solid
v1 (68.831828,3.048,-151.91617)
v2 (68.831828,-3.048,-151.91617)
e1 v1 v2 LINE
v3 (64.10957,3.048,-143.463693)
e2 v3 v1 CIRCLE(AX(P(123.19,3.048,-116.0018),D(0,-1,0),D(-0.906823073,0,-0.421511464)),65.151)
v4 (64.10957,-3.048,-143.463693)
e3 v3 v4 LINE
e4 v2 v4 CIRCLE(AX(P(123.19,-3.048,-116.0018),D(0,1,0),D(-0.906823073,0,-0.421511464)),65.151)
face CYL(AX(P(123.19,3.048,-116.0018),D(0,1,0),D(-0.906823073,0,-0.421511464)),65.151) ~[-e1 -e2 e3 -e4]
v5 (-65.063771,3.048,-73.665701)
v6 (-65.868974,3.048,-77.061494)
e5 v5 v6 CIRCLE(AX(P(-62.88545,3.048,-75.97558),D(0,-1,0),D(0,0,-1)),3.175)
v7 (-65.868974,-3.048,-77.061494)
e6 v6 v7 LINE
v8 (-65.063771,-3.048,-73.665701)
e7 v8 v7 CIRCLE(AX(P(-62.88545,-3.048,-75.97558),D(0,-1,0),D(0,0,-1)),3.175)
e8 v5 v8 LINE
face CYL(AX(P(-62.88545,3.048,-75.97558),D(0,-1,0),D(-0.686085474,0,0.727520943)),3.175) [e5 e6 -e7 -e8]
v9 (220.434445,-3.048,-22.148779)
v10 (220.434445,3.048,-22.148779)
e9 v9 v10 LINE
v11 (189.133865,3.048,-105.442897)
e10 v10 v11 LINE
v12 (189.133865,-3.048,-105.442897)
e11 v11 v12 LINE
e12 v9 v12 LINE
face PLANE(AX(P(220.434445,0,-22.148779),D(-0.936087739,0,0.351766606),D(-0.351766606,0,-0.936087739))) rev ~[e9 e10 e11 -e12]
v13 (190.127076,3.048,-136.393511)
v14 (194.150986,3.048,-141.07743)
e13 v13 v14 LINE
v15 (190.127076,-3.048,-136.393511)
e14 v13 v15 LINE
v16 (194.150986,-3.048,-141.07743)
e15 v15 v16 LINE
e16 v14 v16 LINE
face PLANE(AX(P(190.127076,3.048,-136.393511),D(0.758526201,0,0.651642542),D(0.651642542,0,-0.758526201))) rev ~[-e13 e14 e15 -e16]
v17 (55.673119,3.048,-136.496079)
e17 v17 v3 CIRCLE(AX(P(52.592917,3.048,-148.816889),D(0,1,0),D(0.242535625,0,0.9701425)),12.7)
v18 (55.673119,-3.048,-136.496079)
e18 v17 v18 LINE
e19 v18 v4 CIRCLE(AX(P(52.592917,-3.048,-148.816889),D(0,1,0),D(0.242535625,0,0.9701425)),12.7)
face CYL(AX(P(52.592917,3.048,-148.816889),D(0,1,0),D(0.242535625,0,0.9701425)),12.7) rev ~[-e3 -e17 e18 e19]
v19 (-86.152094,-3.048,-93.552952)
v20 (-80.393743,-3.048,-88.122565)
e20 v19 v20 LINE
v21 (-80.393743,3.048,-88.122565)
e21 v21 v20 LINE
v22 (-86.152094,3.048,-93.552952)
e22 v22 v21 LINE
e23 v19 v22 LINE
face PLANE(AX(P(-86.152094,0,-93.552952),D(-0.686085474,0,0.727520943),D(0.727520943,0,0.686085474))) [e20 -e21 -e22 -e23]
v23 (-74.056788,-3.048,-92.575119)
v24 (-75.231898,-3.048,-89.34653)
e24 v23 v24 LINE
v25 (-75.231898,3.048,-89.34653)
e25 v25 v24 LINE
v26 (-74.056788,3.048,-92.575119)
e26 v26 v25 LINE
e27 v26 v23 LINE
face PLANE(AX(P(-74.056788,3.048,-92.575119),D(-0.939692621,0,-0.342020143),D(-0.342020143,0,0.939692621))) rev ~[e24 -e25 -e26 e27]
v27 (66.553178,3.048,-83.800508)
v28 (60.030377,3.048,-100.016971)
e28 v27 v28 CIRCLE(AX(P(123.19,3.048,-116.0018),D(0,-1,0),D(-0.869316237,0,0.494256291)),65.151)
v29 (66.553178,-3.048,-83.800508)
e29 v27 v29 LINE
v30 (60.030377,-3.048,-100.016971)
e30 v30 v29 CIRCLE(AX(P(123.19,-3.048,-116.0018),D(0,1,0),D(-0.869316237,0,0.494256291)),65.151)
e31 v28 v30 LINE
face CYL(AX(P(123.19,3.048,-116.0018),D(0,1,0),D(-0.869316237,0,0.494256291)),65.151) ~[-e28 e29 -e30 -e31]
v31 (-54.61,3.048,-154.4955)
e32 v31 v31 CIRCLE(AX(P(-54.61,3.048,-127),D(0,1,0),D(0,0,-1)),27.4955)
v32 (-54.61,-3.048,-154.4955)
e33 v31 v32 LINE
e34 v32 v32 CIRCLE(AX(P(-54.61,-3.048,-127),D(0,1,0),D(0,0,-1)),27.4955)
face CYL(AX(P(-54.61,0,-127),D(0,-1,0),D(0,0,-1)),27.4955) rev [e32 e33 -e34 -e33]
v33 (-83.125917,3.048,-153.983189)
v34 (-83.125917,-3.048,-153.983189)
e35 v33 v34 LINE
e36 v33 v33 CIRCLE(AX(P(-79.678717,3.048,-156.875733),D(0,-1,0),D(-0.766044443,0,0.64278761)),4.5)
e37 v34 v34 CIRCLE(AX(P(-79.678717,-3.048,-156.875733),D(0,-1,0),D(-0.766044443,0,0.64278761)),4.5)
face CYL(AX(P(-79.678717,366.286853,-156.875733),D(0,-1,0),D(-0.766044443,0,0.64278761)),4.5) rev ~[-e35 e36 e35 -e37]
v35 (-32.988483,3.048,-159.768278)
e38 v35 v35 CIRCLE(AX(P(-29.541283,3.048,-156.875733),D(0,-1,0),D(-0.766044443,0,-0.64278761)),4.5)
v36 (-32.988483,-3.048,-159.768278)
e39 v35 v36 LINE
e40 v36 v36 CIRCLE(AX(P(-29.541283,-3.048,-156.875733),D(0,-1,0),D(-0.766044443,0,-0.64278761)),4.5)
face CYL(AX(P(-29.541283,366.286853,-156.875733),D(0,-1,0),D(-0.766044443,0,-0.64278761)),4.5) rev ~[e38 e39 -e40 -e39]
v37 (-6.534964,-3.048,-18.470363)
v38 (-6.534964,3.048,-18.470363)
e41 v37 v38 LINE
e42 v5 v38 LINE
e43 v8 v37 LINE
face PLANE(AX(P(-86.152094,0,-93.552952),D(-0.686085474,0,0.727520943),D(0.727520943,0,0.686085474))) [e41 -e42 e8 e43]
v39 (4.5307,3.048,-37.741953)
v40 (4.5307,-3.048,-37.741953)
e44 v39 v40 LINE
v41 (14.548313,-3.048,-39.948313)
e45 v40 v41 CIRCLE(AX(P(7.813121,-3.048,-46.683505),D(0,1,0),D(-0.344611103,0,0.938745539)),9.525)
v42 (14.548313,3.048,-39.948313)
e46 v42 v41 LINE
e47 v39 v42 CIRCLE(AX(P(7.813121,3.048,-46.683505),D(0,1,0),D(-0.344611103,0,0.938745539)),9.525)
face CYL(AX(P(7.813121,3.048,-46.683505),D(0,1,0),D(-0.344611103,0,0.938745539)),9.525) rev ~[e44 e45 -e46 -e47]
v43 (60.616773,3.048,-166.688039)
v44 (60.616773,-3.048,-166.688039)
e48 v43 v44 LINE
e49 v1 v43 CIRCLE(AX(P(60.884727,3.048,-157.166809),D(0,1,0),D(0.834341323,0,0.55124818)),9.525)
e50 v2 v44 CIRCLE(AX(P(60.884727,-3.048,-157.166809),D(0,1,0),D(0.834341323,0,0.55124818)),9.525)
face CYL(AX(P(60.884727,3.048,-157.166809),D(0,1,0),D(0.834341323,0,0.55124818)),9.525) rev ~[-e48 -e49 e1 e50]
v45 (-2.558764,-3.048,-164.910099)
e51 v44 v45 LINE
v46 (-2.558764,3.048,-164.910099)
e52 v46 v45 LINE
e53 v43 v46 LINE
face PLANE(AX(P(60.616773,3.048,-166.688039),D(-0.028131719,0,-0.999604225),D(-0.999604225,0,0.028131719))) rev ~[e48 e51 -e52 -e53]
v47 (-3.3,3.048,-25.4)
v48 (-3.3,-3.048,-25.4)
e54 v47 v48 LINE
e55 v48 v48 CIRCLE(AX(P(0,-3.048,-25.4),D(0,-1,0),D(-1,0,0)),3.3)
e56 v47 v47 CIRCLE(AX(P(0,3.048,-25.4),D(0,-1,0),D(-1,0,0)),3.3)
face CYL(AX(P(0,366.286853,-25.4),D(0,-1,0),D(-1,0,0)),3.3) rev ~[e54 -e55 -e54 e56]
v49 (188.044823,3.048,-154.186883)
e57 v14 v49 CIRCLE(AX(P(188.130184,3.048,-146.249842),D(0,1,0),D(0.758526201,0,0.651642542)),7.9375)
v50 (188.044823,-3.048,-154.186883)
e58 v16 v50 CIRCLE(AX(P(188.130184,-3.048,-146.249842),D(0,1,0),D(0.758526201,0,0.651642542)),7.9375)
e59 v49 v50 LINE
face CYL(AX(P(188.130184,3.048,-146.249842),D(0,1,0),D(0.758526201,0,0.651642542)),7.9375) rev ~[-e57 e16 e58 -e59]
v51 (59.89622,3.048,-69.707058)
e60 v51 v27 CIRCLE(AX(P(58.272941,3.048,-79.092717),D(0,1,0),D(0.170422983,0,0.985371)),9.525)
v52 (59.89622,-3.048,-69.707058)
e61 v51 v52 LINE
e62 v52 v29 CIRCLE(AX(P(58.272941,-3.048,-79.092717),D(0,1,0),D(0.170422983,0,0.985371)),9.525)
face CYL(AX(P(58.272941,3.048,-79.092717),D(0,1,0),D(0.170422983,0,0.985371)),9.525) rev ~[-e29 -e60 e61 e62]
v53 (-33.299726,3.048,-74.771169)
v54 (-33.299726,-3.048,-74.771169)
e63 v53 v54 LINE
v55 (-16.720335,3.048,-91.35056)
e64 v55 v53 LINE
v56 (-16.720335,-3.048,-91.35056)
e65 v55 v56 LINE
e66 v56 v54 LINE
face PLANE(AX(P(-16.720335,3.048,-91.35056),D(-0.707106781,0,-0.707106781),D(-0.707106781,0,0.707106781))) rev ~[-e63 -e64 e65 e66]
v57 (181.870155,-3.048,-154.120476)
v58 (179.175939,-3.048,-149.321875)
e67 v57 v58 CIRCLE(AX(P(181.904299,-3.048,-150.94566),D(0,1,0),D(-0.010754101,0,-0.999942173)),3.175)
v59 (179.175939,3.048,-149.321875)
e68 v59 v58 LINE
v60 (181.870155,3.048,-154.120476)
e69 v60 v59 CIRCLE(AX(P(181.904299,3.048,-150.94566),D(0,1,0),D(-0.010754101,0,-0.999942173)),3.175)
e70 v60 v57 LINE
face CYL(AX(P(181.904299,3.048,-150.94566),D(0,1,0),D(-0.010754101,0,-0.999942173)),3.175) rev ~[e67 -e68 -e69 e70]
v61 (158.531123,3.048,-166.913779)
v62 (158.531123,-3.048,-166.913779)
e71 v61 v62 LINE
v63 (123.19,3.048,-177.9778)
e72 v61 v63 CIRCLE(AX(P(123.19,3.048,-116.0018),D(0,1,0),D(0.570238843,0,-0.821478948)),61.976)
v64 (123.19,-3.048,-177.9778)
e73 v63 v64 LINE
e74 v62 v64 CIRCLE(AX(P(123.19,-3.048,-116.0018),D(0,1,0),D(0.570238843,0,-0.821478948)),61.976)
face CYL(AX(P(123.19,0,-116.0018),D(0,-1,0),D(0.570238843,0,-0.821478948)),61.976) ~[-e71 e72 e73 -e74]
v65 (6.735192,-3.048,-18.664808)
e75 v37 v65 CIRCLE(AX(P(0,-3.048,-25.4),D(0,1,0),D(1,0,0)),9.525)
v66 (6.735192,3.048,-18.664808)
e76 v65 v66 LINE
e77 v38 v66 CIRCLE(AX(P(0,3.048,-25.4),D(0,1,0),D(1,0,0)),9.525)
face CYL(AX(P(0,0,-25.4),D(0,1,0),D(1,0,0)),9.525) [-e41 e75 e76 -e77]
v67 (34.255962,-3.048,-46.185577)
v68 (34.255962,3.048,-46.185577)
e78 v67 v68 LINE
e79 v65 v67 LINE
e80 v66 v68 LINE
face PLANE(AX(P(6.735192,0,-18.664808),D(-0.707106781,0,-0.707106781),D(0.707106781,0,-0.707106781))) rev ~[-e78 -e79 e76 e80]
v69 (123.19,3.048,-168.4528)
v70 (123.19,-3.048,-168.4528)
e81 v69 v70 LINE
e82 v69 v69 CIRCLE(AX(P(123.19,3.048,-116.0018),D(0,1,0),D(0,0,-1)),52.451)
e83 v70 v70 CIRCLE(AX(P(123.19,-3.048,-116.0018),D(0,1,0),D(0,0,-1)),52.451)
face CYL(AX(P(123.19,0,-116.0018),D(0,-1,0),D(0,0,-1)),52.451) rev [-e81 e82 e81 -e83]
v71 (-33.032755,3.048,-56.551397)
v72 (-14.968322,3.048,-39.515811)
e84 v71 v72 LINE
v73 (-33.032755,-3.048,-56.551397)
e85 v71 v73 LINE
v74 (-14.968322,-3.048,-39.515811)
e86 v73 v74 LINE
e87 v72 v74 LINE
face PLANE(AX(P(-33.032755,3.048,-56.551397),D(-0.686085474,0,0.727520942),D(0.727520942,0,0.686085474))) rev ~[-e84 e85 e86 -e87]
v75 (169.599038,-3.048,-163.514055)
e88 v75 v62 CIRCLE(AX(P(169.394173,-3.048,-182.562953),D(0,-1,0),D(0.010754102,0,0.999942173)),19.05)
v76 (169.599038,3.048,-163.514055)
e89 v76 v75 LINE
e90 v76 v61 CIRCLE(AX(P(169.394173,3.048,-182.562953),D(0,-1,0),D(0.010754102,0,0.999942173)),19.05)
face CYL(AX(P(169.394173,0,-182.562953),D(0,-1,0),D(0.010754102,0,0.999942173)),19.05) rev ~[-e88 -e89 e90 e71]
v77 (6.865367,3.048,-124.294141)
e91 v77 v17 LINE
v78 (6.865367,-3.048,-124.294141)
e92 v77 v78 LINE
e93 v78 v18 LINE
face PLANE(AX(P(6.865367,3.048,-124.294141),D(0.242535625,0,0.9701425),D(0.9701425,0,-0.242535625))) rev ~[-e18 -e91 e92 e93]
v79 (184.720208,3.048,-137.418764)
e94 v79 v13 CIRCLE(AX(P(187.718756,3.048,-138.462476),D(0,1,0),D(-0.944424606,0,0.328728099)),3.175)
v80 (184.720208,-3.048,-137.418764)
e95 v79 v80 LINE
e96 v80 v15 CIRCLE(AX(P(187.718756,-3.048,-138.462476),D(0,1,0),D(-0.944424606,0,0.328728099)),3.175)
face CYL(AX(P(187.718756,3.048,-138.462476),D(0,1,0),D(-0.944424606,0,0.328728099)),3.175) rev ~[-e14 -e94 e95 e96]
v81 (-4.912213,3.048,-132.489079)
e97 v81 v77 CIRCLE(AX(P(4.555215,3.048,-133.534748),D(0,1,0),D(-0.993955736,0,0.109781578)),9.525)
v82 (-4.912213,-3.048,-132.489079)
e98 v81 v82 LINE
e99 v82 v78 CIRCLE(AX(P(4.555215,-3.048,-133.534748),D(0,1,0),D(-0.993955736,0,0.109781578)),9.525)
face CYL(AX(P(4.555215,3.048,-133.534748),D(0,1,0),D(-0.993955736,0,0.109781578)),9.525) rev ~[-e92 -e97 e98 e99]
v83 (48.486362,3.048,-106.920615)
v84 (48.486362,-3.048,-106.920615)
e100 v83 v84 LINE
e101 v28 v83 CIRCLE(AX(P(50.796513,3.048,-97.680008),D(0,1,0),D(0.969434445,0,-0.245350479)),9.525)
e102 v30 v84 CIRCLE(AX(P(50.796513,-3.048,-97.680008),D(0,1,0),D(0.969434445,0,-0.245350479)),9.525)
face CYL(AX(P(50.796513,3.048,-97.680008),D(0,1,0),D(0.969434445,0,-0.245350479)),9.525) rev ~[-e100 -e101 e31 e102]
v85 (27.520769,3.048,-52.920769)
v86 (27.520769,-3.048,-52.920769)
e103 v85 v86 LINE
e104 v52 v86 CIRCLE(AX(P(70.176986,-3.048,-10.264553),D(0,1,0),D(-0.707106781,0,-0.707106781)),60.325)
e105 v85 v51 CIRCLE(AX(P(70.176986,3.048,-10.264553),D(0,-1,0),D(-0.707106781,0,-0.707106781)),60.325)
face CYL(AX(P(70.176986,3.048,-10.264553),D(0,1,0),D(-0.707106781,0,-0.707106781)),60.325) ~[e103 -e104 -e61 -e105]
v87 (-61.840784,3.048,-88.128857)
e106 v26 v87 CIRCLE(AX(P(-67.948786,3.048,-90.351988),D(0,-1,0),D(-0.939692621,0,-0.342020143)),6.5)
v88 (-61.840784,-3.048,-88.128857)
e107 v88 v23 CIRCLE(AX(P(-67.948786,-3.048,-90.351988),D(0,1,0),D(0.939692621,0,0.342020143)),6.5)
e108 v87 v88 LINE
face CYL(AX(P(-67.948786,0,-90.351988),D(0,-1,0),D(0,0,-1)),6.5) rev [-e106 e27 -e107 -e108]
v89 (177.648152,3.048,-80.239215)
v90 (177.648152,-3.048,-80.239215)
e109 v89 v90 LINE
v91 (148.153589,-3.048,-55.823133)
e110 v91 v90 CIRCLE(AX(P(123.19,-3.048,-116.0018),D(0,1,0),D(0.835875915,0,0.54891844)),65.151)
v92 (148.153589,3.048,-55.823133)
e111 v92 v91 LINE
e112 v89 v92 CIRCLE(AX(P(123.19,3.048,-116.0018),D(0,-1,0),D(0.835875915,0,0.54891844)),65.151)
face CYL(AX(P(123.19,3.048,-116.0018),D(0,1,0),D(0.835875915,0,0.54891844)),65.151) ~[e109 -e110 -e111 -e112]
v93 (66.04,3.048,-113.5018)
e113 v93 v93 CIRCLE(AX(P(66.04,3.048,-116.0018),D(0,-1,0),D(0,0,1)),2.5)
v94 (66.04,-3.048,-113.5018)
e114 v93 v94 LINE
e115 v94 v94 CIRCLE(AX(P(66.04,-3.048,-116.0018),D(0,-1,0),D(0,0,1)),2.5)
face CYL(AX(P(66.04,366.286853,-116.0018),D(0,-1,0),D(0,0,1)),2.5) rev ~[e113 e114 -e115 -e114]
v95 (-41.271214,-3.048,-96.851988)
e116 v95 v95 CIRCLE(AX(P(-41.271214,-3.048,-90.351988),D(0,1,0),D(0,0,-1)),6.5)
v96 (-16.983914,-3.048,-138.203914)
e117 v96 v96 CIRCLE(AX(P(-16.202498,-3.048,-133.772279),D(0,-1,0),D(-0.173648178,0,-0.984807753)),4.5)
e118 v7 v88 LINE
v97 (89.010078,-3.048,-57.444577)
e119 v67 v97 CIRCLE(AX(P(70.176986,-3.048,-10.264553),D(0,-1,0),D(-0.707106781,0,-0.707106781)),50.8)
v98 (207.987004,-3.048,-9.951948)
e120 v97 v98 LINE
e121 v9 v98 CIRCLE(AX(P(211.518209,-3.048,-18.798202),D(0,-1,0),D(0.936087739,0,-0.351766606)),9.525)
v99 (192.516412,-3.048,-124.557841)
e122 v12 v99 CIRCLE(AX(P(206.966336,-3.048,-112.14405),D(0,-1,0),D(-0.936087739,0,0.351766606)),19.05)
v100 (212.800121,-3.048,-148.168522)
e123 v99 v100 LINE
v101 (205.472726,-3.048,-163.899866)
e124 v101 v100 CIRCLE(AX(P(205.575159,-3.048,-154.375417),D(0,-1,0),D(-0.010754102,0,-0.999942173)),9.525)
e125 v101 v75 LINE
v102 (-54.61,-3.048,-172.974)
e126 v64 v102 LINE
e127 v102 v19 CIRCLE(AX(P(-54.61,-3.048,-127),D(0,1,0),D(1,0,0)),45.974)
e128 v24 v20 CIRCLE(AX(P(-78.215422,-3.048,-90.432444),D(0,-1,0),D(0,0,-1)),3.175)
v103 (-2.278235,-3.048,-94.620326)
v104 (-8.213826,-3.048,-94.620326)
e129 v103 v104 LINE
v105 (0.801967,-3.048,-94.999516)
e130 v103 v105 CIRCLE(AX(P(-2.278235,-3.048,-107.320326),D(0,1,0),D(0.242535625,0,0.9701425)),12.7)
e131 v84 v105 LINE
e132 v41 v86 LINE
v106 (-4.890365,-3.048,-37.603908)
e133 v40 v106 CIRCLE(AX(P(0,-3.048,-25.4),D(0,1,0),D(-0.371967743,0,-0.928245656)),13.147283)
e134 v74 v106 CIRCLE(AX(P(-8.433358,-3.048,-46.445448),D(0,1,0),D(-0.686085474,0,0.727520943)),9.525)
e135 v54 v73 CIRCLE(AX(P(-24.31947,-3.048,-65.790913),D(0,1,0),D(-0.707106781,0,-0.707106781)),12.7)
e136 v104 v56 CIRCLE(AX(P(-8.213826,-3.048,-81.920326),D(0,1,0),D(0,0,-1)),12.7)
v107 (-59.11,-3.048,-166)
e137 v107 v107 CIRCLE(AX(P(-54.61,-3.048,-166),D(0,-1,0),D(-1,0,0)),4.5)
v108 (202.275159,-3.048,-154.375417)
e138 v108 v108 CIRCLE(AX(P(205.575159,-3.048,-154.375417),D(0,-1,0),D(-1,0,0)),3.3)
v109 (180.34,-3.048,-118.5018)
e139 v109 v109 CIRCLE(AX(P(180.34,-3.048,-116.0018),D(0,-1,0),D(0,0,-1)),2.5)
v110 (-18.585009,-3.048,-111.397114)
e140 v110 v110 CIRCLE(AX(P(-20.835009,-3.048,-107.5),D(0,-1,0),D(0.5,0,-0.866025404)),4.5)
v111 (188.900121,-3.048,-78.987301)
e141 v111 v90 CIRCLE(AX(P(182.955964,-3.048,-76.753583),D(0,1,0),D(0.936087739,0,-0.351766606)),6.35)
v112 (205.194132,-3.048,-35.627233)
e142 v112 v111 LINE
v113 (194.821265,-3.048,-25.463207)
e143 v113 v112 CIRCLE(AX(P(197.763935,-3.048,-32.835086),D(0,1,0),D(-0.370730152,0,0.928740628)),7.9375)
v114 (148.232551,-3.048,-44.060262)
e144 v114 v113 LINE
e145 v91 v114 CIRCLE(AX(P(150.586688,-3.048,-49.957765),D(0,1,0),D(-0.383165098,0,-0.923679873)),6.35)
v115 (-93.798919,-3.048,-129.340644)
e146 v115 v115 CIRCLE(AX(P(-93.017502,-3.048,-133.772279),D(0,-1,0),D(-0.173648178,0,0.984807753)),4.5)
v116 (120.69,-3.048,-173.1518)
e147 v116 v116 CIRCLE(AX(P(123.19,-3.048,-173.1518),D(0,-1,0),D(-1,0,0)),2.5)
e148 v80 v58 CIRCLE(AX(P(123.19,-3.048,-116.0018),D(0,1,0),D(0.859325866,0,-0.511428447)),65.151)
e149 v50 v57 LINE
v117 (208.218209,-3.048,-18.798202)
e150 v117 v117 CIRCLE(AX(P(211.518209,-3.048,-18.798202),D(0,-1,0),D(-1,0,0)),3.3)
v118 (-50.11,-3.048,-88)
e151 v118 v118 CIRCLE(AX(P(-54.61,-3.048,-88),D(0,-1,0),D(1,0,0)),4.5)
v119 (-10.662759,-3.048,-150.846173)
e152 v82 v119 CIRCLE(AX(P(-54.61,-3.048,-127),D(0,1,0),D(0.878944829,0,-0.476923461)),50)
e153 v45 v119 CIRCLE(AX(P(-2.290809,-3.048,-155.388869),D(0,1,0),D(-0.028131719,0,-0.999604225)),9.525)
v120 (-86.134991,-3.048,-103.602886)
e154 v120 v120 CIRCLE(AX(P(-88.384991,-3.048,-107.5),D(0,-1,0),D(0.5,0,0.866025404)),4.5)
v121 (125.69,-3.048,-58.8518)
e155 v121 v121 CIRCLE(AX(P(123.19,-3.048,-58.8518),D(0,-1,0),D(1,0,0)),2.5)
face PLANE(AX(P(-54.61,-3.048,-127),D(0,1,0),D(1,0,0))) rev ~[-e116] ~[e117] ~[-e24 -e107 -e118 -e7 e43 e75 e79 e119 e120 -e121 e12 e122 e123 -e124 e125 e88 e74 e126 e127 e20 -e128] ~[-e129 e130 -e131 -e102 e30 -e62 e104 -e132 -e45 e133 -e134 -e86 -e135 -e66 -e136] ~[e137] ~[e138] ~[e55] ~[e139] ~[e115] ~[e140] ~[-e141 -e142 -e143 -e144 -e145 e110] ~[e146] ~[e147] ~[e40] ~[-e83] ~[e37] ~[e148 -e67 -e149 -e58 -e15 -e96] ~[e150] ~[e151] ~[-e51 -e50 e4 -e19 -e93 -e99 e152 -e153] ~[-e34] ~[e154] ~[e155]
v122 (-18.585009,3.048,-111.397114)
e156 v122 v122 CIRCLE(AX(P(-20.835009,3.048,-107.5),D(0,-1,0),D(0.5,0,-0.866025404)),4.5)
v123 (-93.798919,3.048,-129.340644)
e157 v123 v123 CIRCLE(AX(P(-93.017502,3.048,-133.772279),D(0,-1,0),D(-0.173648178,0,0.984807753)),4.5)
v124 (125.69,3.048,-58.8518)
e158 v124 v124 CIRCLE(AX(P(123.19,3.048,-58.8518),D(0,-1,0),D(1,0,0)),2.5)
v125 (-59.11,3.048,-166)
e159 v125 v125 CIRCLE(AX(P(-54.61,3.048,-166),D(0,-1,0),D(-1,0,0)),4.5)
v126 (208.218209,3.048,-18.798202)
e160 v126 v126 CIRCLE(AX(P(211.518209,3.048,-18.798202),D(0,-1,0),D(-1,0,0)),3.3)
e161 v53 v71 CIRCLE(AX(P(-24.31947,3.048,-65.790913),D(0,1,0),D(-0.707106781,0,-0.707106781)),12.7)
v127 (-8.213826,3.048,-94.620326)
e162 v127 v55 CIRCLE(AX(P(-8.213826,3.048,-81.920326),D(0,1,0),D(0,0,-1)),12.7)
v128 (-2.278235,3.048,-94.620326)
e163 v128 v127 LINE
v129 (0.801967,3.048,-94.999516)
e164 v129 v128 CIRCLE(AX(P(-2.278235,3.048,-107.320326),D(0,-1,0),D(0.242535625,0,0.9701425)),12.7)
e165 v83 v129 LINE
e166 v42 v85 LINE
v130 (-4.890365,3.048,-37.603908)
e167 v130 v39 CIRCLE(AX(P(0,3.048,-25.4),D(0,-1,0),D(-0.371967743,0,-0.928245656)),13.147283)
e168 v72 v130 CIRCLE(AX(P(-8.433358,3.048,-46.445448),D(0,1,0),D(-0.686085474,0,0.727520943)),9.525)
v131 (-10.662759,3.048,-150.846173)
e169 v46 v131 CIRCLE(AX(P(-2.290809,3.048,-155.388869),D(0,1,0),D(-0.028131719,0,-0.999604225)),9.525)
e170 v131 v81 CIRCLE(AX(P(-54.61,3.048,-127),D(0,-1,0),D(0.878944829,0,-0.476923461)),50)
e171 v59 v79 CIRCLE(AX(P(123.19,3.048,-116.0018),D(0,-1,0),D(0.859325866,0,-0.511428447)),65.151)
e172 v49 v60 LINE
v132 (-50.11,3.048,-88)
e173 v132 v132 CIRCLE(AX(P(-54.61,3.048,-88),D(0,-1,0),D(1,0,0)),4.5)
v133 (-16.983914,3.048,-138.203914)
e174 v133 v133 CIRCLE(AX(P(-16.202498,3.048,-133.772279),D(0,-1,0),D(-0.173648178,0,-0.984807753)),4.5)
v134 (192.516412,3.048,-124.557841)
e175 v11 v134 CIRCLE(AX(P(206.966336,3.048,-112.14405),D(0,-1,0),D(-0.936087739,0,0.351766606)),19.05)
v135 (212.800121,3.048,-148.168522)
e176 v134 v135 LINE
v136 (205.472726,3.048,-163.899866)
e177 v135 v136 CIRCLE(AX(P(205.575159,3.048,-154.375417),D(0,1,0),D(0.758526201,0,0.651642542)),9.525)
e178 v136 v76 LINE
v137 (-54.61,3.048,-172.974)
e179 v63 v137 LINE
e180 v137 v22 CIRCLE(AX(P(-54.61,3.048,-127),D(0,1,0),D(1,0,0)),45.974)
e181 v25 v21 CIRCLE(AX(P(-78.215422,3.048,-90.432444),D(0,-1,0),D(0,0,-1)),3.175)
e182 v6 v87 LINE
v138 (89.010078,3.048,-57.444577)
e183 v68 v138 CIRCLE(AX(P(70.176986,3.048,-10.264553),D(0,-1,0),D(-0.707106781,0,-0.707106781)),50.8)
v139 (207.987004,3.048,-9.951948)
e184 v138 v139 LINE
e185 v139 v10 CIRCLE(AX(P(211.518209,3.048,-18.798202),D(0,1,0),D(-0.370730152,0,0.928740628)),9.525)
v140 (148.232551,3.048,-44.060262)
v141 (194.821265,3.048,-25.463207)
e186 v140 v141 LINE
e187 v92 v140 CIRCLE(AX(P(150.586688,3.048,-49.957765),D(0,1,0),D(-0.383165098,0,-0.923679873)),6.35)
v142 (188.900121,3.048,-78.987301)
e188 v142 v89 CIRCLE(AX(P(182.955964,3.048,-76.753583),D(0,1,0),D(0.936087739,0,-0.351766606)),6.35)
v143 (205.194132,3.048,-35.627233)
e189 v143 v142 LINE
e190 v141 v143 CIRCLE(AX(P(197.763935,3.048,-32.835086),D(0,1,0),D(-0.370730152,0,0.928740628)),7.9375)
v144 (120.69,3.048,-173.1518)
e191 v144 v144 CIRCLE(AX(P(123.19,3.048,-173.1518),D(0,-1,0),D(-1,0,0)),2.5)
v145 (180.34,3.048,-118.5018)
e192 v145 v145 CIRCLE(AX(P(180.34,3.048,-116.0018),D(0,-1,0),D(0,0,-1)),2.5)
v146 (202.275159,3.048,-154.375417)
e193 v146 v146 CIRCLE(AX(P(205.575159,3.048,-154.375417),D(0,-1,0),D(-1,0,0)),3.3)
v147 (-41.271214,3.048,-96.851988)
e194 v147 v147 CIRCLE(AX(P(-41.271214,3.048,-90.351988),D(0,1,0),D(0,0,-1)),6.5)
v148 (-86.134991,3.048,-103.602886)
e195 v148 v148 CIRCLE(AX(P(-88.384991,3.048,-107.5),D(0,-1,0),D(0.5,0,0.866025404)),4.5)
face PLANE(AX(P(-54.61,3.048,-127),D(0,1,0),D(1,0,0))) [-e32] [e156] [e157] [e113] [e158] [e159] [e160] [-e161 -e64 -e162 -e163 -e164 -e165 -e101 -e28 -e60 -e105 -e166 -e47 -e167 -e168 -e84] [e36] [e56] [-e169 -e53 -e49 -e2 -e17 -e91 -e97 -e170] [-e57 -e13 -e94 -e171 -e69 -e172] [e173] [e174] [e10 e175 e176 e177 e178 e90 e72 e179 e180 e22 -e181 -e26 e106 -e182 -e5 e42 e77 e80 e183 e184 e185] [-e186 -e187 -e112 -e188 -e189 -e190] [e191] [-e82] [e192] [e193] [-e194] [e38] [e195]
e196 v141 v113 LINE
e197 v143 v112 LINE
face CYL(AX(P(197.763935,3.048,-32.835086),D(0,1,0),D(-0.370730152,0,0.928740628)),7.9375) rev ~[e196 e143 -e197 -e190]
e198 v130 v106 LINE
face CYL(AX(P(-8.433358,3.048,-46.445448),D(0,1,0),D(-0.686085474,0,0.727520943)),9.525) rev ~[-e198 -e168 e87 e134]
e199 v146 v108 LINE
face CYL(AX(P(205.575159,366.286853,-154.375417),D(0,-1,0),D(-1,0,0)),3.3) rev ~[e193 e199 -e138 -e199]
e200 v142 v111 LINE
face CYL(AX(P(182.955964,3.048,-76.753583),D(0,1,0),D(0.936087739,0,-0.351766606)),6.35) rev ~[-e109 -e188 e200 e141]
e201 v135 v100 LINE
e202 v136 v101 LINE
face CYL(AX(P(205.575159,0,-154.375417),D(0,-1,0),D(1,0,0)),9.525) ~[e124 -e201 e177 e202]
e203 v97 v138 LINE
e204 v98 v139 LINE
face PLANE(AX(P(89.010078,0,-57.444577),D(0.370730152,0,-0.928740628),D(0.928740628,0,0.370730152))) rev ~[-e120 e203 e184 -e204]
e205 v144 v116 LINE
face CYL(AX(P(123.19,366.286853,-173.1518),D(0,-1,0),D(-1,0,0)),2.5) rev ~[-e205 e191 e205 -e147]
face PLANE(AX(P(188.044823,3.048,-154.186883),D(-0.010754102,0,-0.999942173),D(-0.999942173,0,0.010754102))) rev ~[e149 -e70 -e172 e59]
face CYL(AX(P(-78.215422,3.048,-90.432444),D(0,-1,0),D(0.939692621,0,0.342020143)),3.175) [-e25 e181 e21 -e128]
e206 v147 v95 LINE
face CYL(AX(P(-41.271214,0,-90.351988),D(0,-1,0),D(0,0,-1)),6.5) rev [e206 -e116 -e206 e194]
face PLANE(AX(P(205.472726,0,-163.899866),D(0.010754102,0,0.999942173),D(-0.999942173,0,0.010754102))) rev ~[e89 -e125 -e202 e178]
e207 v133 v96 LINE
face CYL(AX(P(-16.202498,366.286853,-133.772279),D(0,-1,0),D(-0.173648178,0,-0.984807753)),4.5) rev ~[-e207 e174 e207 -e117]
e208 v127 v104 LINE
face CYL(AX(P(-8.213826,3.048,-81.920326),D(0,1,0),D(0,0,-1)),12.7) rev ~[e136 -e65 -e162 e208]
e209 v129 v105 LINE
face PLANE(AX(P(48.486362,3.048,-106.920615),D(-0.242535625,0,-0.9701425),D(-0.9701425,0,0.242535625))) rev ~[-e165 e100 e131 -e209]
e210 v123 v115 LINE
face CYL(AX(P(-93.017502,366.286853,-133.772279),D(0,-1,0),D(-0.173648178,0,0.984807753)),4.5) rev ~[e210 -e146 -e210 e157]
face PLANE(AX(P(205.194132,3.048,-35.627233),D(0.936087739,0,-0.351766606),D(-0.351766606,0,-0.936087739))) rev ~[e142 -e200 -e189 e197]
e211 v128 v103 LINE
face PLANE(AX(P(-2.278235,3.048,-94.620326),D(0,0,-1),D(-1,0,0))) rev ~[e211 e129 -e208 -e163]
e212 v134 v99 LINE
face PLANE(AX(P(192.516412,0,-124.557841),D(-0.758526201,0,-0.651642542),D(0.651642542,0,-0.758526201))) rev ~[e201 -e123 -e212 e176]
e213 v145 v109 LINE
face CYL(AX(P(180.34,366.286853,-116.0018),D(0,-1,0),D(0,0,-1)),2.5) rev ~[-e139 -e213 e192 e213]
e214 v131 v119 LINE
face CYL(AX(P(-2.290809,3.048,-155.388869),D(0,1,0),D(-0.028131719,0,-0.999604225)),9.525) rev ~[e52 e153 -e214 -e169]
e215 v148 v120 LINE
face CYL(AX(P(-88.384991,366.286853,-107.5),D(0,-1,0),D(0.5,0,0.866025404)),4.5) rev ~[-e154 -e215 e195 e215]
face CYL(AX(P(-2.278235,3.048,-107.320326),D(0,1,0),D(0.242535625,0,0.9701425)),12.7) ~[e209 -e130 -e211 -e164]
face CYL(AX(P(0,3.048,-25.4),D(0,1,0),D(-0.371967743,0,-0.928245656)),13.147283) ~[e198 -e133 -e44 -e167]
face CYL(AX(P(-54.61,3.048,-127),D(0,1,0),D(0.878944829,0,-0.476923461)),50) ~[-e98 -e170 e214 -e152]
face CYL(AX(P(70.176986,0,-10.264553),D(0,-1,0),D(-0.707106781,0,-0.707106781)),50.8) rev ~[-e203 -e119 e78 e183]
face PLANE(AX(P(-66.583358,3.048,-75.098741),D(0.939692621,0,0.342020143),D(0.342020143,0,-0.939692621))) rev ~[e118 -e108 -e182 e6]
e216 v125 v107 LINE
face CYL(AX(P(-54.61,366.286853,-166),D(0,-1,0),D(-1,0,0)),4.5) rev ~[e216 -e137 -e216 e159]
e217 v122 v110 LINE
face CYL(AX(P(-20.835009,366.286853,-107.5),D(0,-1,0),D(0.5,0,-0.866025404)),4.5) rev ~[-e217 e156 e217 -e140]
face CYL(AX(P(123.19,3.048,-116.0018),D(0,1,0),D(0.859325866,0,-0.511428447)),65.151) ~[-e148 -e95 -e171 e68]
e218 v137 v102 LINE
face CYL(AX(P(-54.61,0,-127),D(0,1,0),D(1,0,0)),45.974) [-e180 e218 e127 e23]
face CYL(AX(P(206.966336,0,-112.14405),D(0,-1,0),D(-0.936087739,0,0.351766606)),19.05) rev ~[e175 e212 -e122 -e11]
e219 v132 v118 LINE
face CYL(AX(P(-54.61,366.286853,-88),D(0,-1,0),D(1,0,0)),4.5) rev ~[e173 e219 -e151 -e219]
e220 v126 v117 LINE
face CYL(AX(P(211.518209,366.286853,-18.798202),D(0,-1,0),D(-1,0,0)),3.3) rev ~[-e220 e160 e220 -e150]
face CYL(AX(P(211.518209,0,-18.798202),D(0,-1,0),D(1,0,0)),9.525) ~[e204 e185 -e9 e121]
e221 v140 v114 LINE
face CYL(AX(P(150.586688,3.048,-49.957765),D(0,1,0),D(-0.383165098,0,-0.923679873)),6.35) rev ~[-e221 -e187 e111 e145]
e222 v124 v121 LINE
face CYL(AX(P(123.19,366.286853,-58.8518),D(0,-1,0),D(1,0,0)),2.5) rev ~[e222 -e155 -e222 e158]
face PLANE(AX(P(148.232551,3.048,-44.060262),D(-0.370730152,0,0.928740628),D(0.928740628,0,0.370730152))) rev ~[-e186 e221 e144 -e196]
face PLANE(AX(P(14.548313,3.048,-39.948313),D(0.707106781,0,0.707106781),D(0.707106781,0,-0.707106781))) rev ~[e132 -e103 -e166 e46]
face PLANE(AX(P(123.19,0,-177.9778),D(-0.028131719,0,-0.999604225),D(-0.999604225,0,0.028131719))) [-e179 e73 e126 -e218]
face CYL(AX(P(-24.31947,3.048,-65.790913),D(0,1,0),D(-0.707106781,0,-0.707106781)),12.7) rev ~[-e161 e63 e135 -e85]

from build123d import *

# Parameters (mm, degrees)
MASTER_SKETCH_R       = 52.451
MASTER_SKETCH_R_2     = 9.525
MASTER_SKETCH_R_3     = 45.974
MASTER_SKETCH_R_4     = 27.4955
MASTER_SKETCH_R_5     = 6.5
BOSS_EXTRUDE2_DEPTH   = 3.048
F_5_0MM_DOWEL_HOLE1_D = 5
CIRPATTERN4_COUNT     = 4
M6_CLEARANCE_HOLE4_D  = 6.6
M8_CLEARANCE_HOLE1_D  = 9
CIRPATTERN3_COUNT     = 18
CUT_EXTRUDE2_DEPTH    = 284.854467488
CUT_EXTRUDE4_DEPTH    = 284.854467488
FILLET1_R             = 3.175


with BuildPart() as part:
    # Master Sketch → Boss-Extrude2 (new, symmetric)
    # profile 1 of 5: a face of its own
    with BuildSketch(Plane(origin=(0, 0, 0), x_dir=(1, 0, 0), z_dir=(0, 1, 0))):
        with BuildLine():
            ThreePointArc((-8.636, 127), (-36.396097826, 84.787887478), (-86.152093601, 93.552952189))
            Line((-86.152093601, 93.552952189), (-6.534964144, 18.470363023))
            ThreePointArc((-6.534964144, 18.470363023), (-3.773598517, 34.145603423), (9.525, 25.4))
            ThreePointArc((9.525, 25.4), (8.799952547, 21.754940307), (6.735192091, 18.664807909))
            Line((6.735192091, 18.664807909), (34.255961574, 46.185577392))
            ThreePointArc((34.255961574, 46.185577392), (59.945142207, 60.02346539), (89.010077776, 57.44457682))
            Line((89.010077776, 57.44457682), (207.987004211, 9.951947906))
            ThreePointArc((207.987004211, 9.951947906), (204.851852042, 25.601533276), (220.43444462, 22.148779315))
            Line((220.43444462, 22.148779315), (189.133864847, 105.44289655))
            ThreePointArc((189.133864847, 105.44289655), (188.207777178, 115.4635324), (192.51641215, 124.557840832))
            Line((192.51641215, 124.557840832), (212.800120602, 148.168522003))
            ThreePointArc((212.800120602, 148.168522003), (196.940842995, 150.353698677), (205.472725722, 163.899866417))
            Line((205.472725722, 163.899866417), (169.599038165, 163.514054819))
            ThreePointArc((169.599038165, 163.514054819), (163.800537316, 164.352688386), (158.531122559, 166.913779261))
            ThreePointArc((158.531122559, 166.913779261), (141.706259737, 175.147152322), (123.19, 177.9778))
            Line((123.19, 177.9778), (-54.61, 172.974))
            ThreePointArc((-54.61, 172.974), (-22.101472842, 159.508527158), (-8.636, 127))
        make_face()
        with Locations(Location((123.19, 116.0018, 0), (0, 0, 90))):
            Circle(MASTER_SKETCH_R, mode=Mode.SUBTRACT)
    # profile 2 of 5: a face of its own
    with BuildSketch(Plane(origin=(0, 0, 0), x_dir=(1, 0, 0), z_dir=(0, 1, 0))):
        with Locations((0, 25.4)):
            Circle(MASTER_SKETCH_R_2)
    # profile 3 of 5: a face of its own
    with BuildSketch(Plane(origin=(0, 0, 0), x_dir=(1, 0, 0), z_dir=(0, 1, 0))):
        with Locations((211.518208908, 18.79820239)):
            Circle(MASTER_SKETCH_R_2)
    # profile 4 of 5: a face of its own
    with BuildSketch(Plane(origin=(0, 0, 0), x_dir=(1, 0, 0), z_dir=(0, 1, 0))):
        with Locations((205.575158542, 154.375417219)):
            Circle(MASTER_SKETCH_R_2)
    # profile 5 of 5: a face of its own
    with BuildSketch(Plane(origin=(0, 0, 0), x_dir=(1, 0, 0), z_dir=(0, 1, 0))):
        with Locations((-54.61, 127)):
            Circle(MASTER_SKETCH_R_3)
        with Locations(Location((-54.61, 127, 0), (0, 0, 90))):
            Circle(MASTER_SKETCH_R_4, mode=Mode.SUBTRACT)
        with Locations(Location((-41.27121441, 90.351987789, 0), (0, 0, 90))):
            Circle(MASTER_SKETCH_R_5, mode=Mode.SUBTRACT)
        with Locations(Location((-67.94878559, 90.351987789, 0), (0, 0, 90))):
            Circle(MASTER_SKETCH_R_5, mode=Mode.SUBTRACT)
    extrude(amount=BOSS_EXTRUDE2_DEPTH, both=True)

    # Ø5.0mm Dowel Hole1 (through all)
    with Locations(Plane(origin=(0, 3.048, 0), x_dir=(1, 0, 0), z_dir=(0, 1, 0))):
        with Locations((123.19, 173.1518)):
            f_5_0mm_dowel_hole1 = Hole(F_5_0MM_DOWEL_HOLE1_D / 2)

    # CirPattern4: Ø5.0mm Dowel Hole1 ×4 about axis
    cirpattern4_axis = Axis((123.19, 0, -116.0018), (0, 1, 0))
    for i in range(1, CIRPATTERN4_COUNT):
        add(f_5_0mm_dowel_hole1.rotate(cirpattern4_axis, i * 360 / CIRPATTERN4_COUNT), mode=Mode.SUBTRACT)

    # M6 Clearance Hole4 (through all)
    with Locations(Plane(origin=(0, 3.048, 0), x_dir=(1, 0, 0), z_dir=(0, 1, 0))):
        with Locations((205.575158542, 154.375417219), (211.518208908, 18.79820239), (0, 25.4)):
            Hole(M6_CLEARANCE_HOLE4_D / 2)

    # M8 Clearance Hole1 (through all)
    with Locations(Plane(origin=(0, 3.048, 0), x_dir=(1, 0, 0), z_dir=(0, 1, 0))):
        with Locations((-54.61, 166)):
            m8_clearance_hole1 = Hole(M8_CLEARANCE_HOLE1_D / 2)

    # CirPattern3: M8 Clearance Hole1 ×18 about axis, 10 skipped
    cirpattern3_axis = Axis((-54.61, 3.048, -127), (0, -1, 0))
    add([m8_clearance_hole1.rotate(cirpattern3_axis, i * 360 / CIRPATTERN3_COUNT) for i in range(1, CIRPATTERN3_COUNT) if i not in (1, 3, 5, 7, 8, 10, 11, 13, 15, 17)], mode=Mode.SUBTRACT)

    # Topology 3 → Cut-Extrude2 (cut, through all)
    with BuildSketch(Plane(origin=(0, 3.048, 0), x_dir=(1, 0, 0), z_dir=(0, 1, 0))):
        with BuildLine():
            Line((148.232551201, 44.060262413), (194.821264757, 25.463207079))
            ThreePointArc((194.821264757, 25.463207079), (203.319232726, 27.16564341), (205.194131764, 35.627233252))
            Line((205.194131764, 35.627233252), (188.900120968, 78.987300553))
            ThreePointArc((188.900120968, 78.987300553), (183.658143307, 83.064639882), (177.648151764, 80.239214699))
            ThreePointArc((177.648151764, 80.239214699), (164.735029841, 65.81551406), (148.153589294, 55.823132596))
            ThreePointArc((148.153589294, 55.823132596), (144.236830733, 49.915140022), (148.232551201, 44.060262413))
        make_face()
        with BuildLine():
            Line((188.044823271, 154.186883307), (181.870154841, 154.120476454))
            ThreePointArc((181.870154841, 154.120476454), (179.135815493, 152.500048502), (179.17593949, 149.321874737))
            ThreePointArc((179.17593949, 149.321874737), (182.248718341, 143.510354832), (184.720207534, 137.418764347))
            ThreePointArc((184.720207534, 137.418764347), (187.127250613, 135.343061567), (190.127076346, 136.393510988))
            Line((190.127076346, 136.393510988), (194.150985671, 141.077429629))
            ThreePointArc((194.150985671, 141.077429629), (195.32544691, 149.601274428), (188.044823271, 154.186883307))
        make_face()
        with BuildLine():
            Line((14.548312592, 39.948312592), (27.520769483, 52.920769483))
            ThreePointArc((27.520769483, 52.920769483), (42.409632623, 63.819008448), (59.896219631, 69.707058463))
            ThreePointArc((59.896219631, 69.707058463), (66.885503662, 75.024623751), (66.553177874, 83.800508404))
            ThreePointArc((66.553177874, 83.800508404), (62.745475764, 91.688999032), (60.030376503, 100.016970919))
            ThreePointArc((60.030376503, 100.016970919), (55.6852269, 105.854731176), (48.48636159, 106.920614917))
            Line((48.48636159, 106.920614917), (0.801967439, 94.999516379))
            ThreePointArc((0.801967439, 94.999516379), (-0.72650755, 94.715480161), (-2.278234999, 94.620326131))
            Line((-2.278234999, 94.620326131), (-8.213826069, 94.620326131))
            ThreePointArc((-8.213826069, 94.620326131), (-12.770471536, 93.774733838), (-16.720335226, 91.350559531))
            Line((-16.720335226, 91.350559531), (-33.299725858, 74.771168898))
            ThreePointArc((-33.299725858, 74.771168898), (-37.018106584, 65.604842248), (-33.032755262, 56.551396808))
            Line((-33.032755262, 56.551396808), (-14.968322141, 39.515811377))
            ThreePointArc((-14.968322141, 39.515811377), (-10.208693563, 37.087360482), (-4.890365244, 37.60390848))
            ThreePointArc((-4.890365244, 37.60390848), (-0.192623775, 38.545871994), (4.530699747, 37.741953419))
            ThreePointArc((4.530699747, 37.741953419), (9.861879315, 37.381450483), (14.548312592, 39.948312592))
        make_face()
        with BuildLine():
            Line((60.61677272, 166.688039353), (-2.558763679, 164.910099257))
            ThreePointArc((-2.558763679, 164.910099257), (-10.543717082, 160.144406221), (-10.662758552, 150.846173049))
            ThreePointArc((-10.662758552, 150.846173049), (-6.896337856, 141.946787108), (-4.912213201, 132.489078911))
            ThreePointArc((-4.912213201, 132.489078911), (-0.884996506, 125.716198593), (6.865367013, 124.29414113))
            Line((6.865367013, 124.29414113), (55.673119377, 136.496079221))
            ThreePointArc((55.673119377, 136.496079221), (60.680188367, 139.024747182), (64.109569967, 143.463693382))
            ThreePointArc((64.109569967, 143.463693382), (66.313465528, 147.777775634), (68.831828447, 151.916170194))
            ThreePointArc((68.831828447, 151.916170194), (69.209050275, 161.796201373), (60.61677272, 166.688039353))
        make_face()
    extrude(amount=-CUT_EXTRUDE2_DEPTH, mode=Mode.SUBTRACT)

    # Sketch29 → Cut-Extrude4 (cut, through all)
    with BuildSketch(Plane(origin=(0, 3.048, 0), x_dir=(1, 0, 0), z_dir=(0, 1, 0))):
        with BuildLine():
            Line((-74.056787625, 92.575118721), (-76.882563864, 84.811362311))
            Line((-76.882563864, 84.811362311), (-66.583357956, 75.098740778))
            Line((-66.583357956, 75.098740778), (-61.840783555, 88.128856858))
            ThreePointArc((-61.840783555, 88.128856858), (-70.171916521, 84.243985754), (-74.056787625, 92.575118721))
        make_face()
    extrude(amount=-CUT_EXTRUDE4_DEPTH, mode=Mode.SUBTRACT)

    # Fillet1
    fillet1_edges = [part.edges().sort_by_distance(p)[0] for p in [
        (-66.583357956, 0, -75.098740778),
        (-76.882563864, 0, -84.811362311),
    ]]
    fillet(fillet1_edges, radius=FILLET1_R)


solid = part.part
